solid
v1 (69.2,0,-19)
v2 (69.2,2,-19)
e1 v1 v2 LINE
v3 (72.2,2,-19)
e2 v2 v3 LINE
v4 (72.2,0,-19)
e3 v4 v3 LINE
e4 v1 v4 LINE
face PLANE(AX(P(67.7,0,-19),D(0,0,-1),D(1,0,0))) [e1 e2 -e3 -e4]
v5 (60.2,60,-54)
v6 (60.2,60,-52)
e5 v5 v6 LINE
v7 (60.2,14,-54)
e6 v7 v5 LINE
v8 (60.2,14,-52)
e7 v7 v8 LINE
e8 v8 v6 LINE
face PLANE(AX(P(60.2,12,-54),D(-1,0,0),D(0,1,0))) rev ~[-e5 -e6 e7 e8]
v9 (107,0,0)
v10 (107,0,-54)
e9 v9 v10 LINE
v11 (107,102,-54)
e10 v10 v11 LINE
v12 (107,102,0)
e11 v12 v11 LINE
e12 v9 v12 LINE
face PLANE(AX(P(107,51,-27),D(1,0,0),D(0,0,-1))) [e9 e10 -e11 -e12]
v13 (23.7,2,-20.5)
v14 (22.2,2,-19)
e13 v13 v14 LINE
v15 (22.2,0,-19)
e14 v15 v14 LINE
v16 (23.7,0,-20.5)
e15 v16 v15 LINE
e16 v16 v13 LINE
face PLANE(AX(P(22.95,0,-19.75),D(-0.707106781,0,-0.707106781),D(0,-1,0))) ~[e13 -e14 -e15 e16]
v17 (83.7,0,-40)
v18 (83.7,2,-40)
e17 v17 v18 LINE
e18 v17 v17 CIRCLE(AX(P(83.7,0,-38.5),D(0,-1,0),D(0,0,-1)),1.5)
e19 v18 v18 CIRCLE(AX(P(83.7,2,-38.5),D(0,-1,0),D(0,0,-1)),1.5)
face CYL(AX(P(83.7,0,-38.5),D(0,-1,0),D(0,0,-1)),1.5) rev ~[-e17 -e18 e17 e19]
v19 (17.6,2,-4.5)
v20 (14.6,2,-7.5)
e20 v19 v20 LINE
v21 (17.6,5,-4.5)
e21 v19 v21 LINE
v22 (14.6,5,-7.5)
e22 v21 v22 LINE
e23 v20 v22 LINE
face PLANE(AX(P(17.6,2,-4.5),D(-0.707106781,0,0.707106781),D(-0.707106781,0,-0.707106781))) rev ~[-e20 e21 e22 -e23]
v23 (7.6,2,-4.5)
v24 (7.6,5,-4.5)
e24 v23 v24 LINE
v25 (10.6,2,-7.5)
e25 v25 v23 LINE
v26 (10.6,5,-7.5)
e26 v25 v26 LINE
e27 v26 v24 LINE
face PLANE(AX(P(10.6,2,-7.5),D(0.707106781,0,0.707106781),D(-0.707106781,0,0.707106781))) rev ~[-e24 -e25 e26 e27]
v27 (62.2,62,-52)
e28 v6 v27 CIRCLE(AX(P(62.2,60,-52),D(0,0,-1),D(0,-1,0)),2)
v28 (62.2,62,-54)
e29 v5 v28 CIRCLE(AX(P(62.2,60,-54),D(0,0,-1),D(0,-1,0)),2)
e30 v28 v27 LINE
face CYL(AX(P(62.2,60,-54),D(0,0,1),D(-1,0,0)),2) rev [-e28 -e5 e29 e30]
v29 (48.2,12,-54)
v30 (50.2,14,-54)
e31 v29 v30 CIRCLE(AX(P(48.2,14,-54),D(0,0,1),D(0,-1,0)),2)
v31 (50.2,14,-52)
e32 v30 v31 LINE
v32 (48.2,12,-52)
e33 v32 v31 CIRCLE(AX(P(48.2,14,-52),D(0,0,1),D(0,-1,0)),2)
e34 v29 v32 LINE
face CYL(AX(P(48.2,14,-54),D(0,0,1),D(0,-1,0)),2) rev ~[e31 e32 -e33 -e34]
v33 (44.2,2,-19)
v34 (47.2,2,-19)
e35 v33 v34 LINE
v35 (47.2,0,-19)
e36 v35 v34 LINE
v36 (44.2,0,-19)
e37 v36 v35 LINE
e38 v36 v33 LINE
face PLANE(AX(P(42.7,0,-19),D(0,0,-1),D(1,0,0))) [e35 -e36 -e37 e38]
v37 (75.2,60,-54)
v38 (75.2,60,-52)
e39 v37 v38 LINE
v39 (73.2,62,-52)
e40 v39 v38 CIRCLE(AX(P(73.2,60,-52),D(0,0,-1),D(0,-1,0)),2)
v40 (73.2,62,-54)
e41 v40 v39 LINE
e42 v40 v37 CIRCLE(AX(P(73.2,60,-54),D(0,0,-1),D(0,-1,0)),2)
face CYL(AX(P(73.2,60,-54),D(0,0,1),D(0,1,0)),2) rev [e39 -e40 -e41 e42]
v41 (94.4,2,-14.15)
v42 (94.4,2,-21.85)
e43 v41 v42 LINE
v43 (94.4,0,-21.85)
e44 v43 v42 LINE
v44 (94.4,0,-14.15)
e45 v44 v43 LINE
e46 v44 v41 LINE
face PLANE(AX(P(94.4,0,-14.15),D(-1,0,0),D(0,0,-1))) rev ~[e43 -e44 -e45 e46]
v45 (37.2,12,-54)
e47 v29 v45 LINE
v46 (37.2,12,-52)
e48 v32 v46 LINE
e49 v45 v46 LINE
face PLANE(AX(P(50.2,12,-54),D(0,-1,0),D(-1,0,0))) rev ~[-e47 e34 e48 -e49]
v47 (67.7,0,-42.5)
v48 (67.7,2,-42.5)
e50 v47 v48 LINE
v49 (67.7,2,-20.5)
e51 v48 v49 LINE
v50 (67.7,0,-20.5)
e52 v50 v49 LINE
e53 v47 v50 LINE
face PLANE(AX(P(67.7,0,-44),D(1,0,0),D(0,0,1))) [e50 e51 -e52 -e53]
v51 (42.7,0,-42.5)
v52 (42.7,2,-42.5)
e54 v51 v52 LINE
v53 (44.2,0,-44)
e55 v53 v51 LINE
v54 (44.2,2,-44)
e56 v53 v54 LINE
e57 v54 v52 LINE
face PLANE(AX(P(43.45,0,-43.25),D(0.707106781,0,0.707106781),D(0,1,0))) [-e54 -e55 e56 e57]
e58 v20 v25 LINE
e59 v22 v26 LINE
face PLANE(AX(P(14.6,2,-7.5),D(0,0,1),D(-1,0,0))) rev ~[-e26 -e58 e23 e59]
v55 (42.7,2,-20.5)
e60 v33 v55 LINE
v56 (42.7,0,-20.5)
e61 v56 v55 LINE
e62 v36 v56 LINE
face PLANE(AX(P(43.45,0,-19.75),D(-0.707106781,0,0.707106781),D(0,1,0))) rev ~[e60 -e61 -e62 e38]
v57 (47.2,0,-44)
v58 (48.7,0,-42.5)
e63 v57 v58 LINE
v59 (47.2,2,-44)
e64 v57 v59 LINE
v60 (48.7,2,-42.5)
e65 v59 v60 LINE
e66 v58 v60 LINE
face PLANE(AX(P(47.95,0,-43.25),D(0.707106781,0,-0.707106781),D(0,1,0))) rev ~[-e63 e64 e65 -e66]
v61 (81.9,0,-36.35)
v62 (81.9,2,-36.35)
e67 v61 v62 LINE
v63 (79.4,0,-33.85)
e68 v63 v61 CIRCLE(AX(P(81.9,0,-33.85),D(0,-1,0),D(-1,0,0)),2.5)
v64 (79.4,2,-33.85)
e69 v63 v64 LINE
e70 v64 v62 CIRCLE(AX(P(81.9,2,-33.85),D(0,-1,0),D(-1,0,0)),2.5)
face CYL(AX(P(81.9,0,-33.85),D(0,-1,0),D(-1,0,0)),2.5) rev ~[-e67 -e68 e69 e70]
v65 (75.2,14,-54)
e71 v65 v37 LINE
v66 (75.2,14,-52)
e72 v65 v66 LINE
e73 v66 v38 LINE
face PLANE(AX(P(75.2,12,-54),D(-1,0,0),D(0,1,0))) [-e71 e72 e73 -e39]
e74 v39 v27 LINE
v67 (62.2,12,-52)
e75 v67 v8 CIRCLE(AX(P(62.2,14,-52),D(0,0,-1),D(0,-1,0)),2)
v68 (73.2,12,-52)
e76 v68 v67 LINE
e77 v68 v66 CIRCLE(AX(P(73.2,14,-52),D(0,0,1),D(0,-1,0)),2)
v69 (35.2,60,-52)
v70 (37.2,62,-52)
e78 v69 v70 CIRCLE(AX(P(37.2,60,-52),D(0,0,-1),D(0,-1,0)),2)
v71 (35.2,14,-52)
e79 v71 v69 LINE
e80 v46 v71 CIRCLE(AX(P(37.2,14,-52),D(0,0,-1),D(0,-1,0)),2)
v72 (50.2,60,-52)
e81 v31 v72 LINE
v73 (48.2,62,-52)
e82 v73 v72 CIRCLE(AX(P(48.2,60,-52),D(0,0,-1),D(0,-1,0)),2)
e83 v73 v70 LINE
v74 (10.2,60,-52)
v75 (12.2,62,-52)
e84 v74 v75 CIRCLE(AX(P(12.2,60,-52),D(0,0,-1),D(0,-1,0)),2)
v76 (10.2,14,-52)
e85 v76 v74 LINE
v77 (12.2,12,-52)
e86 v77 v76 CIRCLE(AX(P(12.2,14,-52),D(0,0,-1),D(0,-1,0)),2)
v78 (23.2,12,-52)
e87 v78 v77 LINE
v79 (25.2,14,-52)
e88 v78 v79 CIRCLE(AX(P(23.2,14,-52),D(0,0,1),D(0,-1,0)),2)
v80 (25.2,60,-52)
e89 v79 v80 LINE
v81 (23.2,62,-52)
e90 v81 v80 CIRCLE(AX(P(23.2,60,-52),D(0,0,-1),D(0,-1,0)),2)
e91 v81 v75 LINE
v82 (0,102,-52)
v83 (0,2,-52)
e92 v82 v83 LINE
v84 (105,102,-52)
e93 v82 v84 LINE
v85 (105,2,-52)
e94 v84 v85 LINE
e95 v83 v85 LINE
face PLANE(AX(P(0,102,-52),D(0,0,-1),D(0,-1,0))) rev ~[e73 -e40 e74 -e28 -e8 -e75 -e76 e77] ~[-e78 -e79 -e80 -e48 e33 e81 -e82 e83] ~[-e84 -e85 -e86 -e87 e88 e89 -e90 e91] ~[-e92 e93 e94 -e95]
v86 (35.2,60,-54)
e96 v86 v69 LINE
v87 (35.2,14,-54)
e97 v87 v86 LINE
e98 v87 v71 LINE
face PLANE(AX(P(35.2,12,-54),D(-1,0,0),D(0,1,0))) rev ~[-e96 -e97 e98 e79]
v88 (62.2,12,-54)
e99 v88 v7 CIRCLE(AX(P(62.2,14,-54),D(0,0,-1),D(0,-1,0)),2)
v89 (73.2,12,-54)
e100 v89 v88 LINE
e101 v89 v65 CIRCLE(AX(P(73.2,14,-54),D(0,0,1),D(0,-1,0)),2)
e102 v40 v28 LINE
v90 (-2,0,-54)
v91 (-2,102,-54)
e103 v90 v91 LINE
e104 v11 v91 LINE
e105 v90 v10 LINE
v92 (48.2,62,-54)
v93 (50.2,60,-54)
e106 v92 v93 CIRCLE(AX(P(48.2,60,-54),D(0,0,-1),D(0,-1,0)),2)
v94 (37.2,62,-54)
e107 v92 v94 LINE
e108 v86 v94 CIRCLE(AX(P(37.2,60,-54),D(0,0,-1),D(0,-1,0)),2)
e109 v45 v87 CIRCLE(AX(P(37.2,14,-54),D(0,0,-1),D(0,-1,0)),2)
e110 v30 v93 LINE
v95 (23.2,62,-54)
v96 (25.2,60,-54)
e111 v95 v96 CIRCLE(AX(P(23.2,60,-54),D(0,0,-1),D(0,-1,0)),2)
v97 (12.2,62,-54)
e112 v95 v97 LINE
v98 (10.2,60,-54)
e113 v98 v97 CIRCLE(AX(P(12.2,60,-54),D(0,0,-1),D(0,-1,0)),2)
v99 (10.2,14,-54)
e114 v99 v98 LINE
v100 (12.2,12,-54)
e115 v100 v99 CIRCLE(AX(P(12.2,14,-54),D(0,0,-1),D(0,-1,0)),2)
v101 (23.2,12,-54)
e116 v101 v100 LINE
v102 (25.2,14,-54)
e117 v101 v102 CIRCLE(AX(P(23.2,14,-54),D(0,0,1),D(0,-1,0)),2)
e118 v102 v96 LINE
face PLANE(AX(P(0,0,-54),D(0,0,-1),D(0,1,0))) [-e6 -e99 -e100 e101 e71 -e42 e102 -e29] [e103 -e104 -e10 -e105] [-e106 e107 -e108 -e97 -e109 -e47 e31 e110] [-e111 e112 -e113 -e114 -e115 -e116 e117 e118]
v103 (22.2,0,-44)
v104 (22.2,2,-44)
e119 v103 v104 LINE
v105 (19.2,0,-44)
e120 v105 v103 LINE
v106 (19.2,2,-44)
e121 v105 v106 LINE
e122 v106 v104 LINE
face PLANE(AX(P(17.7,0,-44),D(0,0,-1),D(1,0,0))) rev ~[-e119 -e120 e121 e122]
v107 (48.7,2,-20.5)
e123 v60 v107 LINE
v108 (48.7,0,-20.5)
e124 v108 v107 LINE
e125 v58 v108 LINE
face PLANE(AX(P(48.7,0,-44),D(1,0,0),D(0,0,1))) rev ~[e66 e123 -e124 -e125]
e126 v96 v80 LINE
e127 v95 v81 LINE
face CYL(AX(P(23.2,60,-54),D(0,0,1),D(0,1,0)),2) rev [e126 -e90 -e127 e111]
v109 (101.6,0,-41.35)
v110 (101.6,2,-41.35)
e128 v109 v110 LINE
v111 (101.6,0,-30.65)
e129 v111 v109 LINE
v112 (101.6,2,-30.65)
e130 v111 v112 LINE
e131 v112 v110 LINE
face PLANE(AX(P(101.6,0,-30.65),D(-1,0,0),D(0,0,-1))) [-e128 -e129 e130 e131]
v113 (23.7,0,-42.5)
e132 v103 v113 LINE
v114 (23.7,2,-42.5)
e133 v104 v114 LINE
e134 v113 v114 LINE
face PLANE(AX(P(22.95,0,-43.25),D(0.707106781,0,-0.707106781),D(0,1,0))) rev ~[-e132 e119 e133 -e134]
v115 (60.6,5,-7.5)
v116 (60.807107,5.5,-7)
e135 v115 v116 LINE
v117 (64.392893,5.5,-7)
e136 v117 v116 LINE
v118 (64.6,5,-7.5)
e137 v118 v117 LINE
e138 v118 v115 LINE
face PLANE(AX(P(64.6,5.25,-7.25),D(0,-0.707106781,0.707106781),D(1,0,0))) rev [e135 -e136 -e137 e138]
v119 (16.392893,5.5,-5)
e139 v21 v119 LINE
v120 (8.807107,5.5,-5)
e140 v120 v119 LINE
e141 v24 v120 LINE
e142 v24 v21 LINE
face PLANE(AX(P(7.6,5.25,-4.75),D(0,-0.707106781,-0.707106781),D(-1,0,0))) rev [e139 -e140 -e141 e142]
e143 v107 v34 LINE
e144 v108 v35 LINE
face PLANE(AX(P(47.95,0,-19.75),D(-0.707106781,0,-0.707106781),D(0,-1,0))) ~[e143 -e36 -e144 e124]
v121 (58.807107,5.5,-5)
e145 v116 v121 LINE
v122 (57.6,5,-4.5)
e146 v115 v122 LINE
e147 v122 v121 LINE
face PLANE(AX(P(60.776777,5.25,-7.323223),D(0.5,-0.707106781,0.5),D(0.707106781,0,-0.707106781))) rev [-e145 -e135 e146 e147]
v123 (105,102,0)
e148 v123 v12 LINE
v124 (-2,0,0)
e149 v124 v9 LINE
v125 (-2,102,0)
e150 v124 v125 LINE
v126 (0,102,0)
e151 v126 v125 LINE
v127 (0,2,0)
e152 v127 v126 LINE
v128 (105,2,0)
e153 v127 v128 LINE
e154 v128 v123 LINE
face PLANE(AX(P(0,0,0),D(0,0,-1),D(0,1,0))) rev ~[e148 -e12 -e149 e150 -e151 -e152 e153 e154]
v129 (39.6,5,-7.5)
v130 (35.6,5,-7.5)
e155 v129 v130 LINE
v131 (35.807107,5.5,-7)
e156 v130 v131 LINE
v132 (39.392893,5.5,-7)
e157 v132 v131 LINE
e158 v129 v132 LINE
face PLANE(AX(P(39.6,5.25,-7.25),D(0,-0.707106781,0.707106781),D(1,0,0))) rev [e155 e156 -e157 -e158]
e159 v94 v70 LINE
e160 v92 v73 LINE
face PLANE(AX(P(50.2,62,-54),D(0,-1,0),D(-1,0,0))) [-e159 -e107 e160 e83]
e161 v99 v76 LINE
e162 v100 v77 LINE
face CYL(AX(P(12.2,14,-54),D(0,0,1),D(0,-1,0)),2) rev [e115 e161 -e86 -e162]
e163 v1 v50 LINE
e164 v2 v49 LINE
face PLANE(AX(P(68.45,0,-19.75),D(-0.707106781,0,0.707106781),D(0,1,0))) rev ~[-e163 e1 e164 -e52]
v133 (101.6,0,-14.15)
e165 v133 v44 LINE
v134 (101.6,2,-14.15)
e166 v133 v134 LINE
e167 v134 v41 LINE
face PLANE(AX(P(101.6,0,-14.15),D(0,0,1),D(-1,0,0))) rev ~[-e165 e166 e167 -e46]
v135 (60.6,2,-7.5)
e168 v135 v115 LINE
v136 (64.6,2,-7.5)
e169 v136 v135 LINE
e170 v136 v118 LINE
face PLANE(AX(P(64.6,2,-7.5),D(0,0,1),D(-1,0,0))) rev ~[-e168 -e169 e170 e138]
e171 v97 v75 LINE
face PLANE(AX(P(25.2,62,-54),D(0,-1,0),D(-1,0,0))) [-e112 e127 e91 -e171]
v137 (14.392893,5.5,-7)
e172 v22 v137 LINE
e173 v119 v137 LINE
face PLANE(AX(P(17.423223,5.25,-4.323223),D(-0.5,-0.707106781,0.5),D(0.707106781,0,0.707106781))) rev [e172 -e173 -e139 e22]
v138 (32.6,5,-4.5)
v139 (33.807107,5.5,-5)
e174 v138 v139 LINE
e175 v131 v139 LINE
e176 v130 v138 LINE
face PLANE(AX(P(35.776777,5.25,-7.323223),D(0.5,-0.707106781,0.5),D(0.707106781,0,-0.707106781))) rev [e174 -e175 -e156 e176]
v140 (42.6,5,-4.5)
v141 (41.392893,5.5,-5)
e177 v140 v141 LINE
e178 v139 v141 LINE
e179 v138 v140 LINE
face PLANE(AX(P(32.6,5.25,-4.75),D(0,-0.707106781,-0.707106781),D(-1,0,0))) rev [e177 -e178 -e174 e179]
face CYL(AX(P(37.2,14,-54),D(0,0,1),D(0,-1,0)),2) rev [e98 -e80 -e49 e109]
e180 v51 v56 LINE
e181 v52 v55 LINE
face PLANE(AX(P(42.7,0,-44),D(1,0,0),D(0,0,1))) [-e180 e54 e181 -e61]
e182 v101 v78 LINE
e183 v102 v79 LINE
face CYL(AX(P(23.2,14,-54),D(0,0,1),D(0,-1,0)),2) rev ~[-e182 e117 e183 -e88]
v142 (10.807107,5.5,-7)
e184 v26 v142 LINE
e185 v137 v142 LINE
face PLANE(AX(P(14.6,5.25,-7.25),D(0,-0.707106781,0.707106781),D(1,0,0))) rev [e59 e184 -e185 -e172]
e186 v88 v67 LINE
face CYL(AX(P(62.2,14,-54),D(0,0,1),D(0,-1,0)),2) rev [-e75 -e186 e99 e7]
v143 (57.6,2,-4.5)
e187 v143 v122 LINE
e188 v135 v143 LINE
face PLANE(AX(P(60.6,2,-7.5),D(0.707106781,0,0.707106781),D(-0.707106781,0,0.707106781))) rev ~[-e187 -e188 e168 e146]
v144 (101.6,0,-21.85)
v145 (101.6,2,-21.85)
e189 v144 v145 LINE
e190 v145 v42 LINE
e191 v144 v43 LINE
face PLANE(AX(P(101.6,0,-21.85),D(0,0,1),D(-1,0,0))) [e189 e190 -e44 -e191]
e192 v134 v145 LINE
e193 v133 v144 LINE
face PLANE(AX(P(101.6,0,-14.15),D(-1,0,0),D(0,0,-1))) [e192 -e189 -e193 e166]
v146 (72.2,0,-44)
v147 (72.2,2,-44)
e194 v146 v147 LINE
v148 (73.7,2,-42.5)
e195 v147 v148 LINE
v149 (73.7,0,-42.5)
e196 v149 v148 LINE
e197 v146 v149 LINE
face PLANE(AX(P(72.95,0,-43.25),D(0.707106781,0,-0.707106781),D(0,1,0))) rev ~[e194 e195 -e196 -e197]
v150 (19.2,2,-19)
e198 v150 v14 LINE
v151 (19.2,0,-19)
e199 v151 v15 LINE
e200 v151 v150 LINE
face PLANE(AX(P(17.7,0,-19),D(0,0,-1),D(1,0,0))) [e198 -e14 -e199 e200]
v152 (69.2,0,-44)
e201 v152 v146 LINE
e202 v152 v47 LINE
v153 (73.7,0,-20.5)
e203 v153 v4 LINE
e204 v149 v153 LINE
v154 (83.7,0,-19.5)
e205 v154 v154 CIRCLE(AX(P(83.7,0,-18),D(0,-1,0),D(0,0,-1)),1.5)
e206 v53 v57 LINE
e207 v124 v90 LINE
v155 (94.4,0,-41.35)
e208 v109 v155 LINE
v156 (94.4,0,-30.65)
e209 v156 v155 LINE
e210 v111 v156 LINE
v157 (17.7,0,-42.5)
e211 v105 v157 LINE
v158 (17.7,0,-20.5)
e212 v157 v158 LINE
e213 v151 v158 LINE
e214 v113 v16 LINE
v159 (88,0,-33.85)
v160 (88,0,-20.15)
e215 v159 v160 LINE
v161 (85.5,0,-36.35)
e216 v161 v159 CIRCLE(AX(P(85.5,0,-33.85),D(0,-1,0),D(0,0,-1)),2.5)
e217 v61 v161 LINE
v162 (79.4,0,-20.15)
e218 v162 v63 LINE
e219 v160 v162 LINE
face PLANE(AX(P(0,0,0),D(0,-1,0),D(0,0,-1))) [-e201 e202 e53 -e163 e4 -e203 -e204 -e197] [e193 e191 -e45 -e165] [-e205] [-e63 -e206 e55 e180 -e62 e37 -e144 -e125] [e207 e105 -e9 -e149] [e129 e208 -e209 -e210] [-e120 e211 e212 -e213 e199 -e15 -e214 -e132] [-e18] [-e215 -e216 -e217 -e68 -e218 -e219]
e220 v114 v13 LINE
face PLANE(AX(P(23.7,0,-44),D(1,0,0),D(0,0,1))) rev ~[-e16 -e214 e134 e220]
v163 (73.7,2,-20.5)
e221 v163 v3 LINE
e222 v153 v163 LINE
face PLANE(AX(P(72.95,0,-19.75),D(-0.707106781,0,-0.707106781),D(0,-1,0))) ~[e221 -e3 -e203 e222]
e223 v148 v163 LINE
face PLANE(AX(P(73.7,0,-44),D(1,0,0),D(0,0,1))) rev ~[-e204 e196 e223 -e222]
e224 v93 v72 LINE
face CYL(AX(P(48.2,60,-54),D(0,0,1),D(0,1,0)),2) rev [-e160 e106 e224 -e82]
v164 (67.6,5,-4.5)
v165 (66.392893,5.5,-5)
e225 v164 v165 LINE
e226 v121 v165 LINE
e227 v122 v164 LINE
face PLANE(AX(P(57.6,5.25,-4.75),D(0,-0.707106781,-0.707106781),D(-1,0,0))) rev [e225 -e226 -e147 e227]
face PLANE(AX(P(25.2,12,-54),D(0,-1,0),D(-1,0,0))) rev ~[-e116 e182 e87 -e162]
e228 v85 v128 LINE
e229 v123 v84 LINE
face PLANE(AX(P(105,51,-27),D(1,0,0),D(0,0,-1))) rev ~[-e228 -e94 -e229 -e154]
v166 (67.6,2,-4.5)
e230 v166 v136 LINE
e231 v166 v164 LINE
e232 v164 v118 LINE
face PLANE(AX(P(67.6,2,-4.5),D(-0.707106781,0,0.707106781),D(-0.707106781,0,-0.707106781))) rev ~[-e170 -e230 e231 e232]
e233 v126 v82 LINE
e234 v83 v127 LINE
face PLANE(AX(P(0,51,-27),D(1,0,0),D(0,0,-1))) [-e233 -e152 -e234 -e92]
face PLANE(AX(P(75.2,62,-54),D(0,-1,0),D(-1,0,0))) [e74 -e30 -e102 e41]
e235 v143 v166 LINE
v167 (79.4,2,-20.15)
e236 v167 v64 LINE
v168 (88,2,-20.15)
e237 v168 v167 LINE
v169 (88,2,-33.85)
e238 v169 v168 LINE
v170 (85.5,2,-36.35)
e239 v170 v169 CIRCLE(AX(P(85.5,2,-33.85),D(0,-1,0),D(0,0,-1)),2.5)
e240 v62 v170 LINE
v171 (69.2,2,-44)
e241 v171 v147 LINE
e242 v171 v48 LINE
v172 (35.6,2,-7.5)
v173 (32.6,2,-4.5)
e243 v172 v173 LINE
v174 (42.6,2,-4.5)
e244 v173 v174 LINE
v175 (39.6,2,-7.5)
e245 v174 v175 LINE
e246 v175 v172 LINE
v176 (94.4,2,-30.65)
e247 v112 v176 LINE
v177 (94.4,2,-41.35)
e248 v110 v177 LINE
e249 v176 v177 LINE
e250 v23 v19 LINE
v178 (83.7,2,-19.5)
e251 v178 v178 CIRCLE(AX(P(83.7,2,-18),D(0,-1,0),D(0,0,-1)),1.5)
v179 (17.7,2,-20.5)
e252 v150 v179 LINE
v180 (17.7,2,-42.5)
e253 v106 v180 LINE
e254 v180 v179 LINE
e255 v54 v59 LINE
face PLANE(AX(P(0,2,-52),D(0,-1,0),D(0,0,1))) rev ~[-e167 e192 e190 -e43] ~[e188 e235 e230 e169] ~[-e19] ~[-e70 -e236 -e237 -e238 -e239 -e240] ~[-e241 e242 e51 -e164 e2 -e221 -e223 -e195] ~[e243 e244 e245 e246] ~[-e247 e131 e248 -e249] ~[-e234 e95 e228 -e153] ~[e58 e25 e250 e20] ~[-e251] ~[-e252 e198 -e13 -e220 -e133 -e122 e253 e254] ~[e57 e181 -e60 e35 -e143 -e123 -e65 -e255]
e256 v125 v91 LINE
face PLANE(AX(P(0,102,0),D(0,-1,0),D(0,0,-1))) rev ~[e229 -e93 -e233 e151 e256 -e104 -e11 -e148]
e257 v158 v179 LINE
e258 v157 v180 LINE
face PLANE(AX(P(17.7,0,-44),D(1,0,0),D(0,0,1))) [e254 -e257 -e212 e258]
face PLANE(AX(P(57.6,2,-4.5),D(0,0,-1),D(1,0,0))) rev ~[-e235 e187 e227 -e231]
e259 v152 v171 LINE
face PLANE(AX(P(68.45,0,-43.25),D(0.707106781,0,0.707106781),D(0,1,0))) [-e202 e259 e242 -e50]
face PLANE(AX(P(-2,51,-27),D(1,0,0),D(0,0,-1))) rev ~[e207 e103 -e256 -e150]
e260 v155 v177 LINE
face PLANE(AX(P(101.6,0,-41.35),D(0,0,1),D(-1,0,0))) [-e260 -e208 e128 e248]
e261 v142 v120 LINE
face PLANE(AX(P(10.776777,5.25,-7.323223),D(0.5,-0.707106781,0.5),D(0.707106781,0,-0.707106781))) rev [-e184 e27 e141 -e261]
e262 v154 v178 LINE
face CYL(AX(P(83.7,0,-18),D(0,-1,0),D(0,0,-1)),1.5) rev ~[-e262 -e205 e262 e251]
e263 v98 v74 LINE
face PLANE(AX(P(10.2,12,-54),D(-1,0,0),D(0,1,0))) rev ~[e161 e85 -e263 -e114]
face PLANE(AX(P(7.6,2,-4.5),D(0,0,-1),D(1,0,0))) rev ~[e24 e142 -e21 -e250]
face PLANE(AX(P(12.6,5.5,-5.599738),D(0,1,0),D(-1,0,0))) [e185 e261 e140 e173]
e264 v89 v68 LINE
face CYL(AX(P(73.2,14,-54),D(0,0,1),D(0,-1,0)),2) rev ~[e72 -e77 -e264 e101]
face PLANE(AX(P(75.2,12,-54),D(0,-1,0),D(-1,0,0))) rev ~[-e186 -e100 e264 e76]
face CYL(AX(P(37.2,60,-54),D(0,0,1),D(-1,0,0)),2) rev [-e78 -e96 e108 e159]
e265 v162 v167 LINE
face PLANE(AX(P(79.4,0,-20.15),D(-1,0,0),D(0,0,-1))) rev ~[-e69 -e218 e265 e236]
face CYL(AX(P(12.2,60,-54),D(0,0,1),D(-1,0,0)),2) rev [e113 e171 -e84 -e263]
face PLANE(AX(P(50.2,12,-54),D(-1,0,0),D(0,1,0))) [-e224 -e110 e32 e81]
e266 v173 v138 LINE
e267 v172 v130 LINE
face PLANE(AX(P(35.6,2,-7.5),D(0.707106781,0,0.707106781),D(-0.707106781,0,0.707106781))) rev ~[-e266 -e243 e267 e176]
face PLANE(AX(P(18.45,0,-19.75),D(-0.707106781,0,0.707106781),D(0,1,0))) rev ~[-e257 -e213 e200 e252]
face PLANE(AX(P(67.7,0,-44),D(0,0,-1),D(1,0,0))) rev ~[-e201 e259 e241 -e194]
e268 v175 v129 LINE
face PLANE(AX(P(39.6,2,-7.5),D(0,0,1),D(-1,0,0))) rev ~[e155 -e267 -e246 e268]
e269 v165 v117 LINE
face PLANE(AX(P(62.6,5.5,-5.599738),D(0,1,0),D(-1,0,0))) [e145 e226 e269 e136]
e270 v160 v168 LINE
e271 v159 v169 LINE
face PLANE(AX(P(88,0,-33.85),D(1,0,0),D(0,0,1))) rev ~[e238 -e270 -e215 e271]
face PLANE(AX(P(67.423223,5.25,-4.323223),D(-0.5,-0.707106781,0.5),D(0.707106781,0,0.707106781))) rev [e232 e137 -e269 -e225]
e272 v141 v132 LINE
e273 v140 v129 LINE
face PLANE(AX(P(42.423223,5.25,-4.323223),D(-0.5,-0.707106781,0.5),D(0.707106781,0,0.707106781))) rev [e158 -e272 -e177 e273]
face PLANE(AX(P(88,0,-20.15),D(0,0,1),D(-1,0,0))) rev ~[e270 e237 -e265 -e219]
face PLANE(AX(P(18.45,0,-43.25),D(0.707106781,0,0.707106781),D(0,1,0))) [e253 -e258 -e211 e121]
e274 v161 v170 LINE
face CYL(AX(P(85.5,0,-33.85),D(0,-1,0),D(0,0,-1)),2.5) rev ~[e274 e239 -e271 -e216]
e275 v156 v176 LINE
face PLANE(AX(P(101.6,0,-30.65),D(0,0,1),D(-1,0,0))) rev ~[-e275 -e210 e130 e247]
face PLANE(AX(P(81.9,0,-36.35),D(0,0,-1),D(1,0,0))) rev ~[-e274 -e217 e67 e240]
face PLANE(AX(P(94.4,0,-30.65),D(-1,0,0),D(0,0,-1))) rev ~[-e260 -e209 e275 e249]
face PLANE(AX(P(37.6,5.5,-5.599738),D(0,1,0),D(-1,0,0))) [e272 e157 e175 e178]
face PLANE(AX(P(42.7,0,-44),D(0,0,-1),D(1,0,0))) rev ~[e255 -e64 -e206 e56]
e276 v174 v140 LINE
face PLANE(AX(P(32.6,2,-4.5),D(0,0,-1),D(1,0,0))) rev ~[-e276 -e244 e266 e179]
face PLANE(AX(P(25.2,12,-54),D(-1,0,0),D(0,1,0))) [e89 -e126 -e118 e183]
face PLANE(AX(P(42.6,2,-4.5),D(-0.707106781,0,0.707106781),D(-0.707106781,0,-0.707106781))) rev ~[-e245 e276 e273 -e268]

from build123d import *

# Parameters (mm, degrees)
BOSS_EXTRUDE1_DEPTH = 105
SKETCH3_W           = 54
SKETCH3_H           = 102
BOSS_EXTRUDE2_DEPTH = 2
BOSS_EXTRUDE3_START = -105
SKETCH3_2_W         = 54
SKETCH3_2_H         = 102
BOSS_EXTRUDE3_DEPTH = 2
BOSS_EXTRUDE4_DEPTH = 3.5
CHAMFER1_SIZE       = 0.5
SKETCH5_W           = 15
SKETCH5_H           = 50
CUT_EXTRUDE1_DEPTH  = 158.381701605
SKETCH7_W           = 6
SKETCH7_H           = 25
CUT_EXTRUDE2_DEPTH  = 158.381701605
FILLET1_R           = 2
CHAMFER2_SIZE       = 1.5
SKETCH8_R           = 1.5
SKETCH8_W           = 7.2
SKETCH8_H           = 7.7
SKETCH8_H_2         = 10.7
CUT_EXTRUDE3_DEPTH  = 158.381701605


with BuildPart() as part:
    # Sketch1 → Boss-Extrude1 (new body)
    with BuildSketch(Plane(origin=(0, 0, 0), x_dir=(0, 0, -1), z_dir=(1, 0, 0))):
        Polygon((0, 0), (54, 0), (54, 102), (52, 102), (52, 2), (0, 2), align=None)
    extrude(amount=BOSS_EXTRUDE1_DEPTH)

    # Sketch3 → Boss-Extrude2 (add)
    with BuildSketch(Plane(origin=(105, 0, 0), x_dir=(0, 0, -1), z_dir=(1, 0, 0))):
        with Locations((27, 51)):
            Rectangle(SKETCH3_W, SKETCH3_H)
    extrude(amount=BOSS_EXTRUDE2_DEPTH)

    # Sketch3<2> → Boss-Extrude3 (add)
    with BuildSketch(Plane(origin=(105, 0, 0), x_dir=(0, 0, -1), z_dir=(1, 0, 0)).offset(BOSS_EXTRUDE3_START)):
        with Locations((27, 51)):
            Rectangle(SKETCH3_2_W, SKETCH3_2_H)
    extrude(amount=-BOSS_EXTRUDE3_DEPTH)

    # Sketch4 → Boss-Extrude4 (add)
    with BuildSketch(Plane.XZ.offset(-2)):
        Polygon((42.6, -4.5), (39.6, -7.5), (35.6, -7.5), (32.6, -4.5), align=None)
        Polygon((17.6, -4.5), (14.6, -7.5), (10.6, -7.5), (7.6, -4.5), align=None)
        Polygon((67.6, -4.5), (64.6, -7.5), (60.6, -7.5), (57.6, -4.5), align=None)
    extrude(amount=-BOSS_EXTRUDE4_DEPTH)

    # Chamfer1
    chamfer1_edges = [part.edges().sort_by_distance(p)[0] for p in [
        (12.6, 5.5, -4.5),
        (16.1, 5.5, -6),
        (12.6, 5.5, -7.5),
        (9.1, 5.5, -6),
        (37.6, 5.5, -4.5),
        (41.1, 5.5, -6),
        (37.6, 5.5, -7.5),
        (34.1, 5.5, -6),
        (62.6, 5.5, -4.5),
        (66.1, 5.5, -6),
        (62.6, 5.5, -7.5),
        (59.1, 5.5, -6),
    ]]
    chamfer(chamfer1_edges, length=CHAMFER1_SIZE)

    # Sketch5 → Cut-Extrude1 (cut, through all)
    with BuildSketch(Plane(origin=(0, 0, -54), x_dir=(-1, 0, 0), z_dir=(0, 0, -1))):
        with Locations((-42.7, 37)):
            Rectangle(SKETCH5_W, SKETCH5_H)
        with Locations((-17.7, 37)):
            Rectangle(SKETCH5_W, SKETCH5_H)
        with Locations((-67.7, 37)):
            Rectangle(SKETCH5_W, SKETCH5_H)
    extrude(amount=-CUT_EXTRUDE1_DEPTH, mode=Mode.SUBTRACT)

    # Sketch7 → Cut-Extrude2 (cut, through all)
    with BuildSketch(Plane.XZ):
        with Locations((20.7, -31.5)):
            Rectangle(SKETCH7_W, SKETCH7_H)
        with Locations((45.7, -31.5)):
            Rectangle(SKETCH7_W, SKETCH7_H)
        with Locations((70.7, -31.5)):
            Rectangle(SKETCH7_W, SKETCH7_H)
    extrude(amount=-CUT_EXTRUDE2_DEPTH, mode=Mode.SUBTRACT)

    # Fillet1
    fillet1_edges = [part.edges().sort_by_distance(p)[0] for p in [
        (25.2, 12, -53),
        (25.2, 62, -53),
        (10.2, 62, -53),
        (10.2, 12, -53),
        (50.2, 62, -53),
        (35.2, 62, -53),
        (35.2, 12, -53),
        (50.2, 12, -53),
        (75.2, 62, -53),
        (60.2, 62, -53),
        (60.2, 12, -53),
        (75.2, 12, -53),
    ]]
    fillet(fillet1_edges, radius=FILLET1_R)

    # Chamfer2
    chamfer2_edges = [part.edges().sort_by_distance(p)[0] for p in [
        (17.7, 1, -44),
        (17.7, 1, -19),
        (23.7, 1, -19),
        (23.7, 1, -44),
        (48.7, 1, -44),
        (42.7, 1, -44),
        (42.7, 1, -19),
        (48.7, 1, -19),
        (73.7, 1, -44),
        (67.7, 1, -44),
        (67.7, 1, -19),
        (73.7, 1, -19),
    ]]
    chamfer(chamfer2_edges, length=CHAMFER2_SIZE)

    # Sketch8 → Cut-Extrude3 (cut, through all)
    with BuildSketch(Plane(origin=(0, 0, 0), x_dir=(-1, 0, 0), z_dir=(0, -1, 0))):
        with Locations(Location((-83.7, 18, 0), (0, 0, 90))):
            Circle(SKETCH8_R)
        with Locations(Location((-83.7, 38.5, 0), (0, 0, 90))):
            Circle(SKETCH8_R)
        with BuildLine():
            Line((-81.9, 36.35), (-85.5, 36.35))
            ThreePointArc((-85.5, 36.35), (-87.267766953, 35.617766953), (-88, 33.85))
            Line((-88, 33.85), (-88, 20.15))
            Line((-88, 20.15), (-79.4, 20.15))
            Line((-79.4, 20.15), (-79.4, 33.85))
            ThreePointArc((-79.4, 33.85), (-80.132233047, 35.617766953), (-81.9, 36.35))
        make_face()
        with Locations((-98, 18)):
            Rectangle(SKETCH8_W, SKETCH8_H)
        with Locations((-98, 36)):
            Rectangle(SKETCH8_W, SKETCH8_H_2)
    extrude(amount=-CUT_EXTRUDE3_DEPTH, mode=Mode.SUBTRACT)


solid = part.part
